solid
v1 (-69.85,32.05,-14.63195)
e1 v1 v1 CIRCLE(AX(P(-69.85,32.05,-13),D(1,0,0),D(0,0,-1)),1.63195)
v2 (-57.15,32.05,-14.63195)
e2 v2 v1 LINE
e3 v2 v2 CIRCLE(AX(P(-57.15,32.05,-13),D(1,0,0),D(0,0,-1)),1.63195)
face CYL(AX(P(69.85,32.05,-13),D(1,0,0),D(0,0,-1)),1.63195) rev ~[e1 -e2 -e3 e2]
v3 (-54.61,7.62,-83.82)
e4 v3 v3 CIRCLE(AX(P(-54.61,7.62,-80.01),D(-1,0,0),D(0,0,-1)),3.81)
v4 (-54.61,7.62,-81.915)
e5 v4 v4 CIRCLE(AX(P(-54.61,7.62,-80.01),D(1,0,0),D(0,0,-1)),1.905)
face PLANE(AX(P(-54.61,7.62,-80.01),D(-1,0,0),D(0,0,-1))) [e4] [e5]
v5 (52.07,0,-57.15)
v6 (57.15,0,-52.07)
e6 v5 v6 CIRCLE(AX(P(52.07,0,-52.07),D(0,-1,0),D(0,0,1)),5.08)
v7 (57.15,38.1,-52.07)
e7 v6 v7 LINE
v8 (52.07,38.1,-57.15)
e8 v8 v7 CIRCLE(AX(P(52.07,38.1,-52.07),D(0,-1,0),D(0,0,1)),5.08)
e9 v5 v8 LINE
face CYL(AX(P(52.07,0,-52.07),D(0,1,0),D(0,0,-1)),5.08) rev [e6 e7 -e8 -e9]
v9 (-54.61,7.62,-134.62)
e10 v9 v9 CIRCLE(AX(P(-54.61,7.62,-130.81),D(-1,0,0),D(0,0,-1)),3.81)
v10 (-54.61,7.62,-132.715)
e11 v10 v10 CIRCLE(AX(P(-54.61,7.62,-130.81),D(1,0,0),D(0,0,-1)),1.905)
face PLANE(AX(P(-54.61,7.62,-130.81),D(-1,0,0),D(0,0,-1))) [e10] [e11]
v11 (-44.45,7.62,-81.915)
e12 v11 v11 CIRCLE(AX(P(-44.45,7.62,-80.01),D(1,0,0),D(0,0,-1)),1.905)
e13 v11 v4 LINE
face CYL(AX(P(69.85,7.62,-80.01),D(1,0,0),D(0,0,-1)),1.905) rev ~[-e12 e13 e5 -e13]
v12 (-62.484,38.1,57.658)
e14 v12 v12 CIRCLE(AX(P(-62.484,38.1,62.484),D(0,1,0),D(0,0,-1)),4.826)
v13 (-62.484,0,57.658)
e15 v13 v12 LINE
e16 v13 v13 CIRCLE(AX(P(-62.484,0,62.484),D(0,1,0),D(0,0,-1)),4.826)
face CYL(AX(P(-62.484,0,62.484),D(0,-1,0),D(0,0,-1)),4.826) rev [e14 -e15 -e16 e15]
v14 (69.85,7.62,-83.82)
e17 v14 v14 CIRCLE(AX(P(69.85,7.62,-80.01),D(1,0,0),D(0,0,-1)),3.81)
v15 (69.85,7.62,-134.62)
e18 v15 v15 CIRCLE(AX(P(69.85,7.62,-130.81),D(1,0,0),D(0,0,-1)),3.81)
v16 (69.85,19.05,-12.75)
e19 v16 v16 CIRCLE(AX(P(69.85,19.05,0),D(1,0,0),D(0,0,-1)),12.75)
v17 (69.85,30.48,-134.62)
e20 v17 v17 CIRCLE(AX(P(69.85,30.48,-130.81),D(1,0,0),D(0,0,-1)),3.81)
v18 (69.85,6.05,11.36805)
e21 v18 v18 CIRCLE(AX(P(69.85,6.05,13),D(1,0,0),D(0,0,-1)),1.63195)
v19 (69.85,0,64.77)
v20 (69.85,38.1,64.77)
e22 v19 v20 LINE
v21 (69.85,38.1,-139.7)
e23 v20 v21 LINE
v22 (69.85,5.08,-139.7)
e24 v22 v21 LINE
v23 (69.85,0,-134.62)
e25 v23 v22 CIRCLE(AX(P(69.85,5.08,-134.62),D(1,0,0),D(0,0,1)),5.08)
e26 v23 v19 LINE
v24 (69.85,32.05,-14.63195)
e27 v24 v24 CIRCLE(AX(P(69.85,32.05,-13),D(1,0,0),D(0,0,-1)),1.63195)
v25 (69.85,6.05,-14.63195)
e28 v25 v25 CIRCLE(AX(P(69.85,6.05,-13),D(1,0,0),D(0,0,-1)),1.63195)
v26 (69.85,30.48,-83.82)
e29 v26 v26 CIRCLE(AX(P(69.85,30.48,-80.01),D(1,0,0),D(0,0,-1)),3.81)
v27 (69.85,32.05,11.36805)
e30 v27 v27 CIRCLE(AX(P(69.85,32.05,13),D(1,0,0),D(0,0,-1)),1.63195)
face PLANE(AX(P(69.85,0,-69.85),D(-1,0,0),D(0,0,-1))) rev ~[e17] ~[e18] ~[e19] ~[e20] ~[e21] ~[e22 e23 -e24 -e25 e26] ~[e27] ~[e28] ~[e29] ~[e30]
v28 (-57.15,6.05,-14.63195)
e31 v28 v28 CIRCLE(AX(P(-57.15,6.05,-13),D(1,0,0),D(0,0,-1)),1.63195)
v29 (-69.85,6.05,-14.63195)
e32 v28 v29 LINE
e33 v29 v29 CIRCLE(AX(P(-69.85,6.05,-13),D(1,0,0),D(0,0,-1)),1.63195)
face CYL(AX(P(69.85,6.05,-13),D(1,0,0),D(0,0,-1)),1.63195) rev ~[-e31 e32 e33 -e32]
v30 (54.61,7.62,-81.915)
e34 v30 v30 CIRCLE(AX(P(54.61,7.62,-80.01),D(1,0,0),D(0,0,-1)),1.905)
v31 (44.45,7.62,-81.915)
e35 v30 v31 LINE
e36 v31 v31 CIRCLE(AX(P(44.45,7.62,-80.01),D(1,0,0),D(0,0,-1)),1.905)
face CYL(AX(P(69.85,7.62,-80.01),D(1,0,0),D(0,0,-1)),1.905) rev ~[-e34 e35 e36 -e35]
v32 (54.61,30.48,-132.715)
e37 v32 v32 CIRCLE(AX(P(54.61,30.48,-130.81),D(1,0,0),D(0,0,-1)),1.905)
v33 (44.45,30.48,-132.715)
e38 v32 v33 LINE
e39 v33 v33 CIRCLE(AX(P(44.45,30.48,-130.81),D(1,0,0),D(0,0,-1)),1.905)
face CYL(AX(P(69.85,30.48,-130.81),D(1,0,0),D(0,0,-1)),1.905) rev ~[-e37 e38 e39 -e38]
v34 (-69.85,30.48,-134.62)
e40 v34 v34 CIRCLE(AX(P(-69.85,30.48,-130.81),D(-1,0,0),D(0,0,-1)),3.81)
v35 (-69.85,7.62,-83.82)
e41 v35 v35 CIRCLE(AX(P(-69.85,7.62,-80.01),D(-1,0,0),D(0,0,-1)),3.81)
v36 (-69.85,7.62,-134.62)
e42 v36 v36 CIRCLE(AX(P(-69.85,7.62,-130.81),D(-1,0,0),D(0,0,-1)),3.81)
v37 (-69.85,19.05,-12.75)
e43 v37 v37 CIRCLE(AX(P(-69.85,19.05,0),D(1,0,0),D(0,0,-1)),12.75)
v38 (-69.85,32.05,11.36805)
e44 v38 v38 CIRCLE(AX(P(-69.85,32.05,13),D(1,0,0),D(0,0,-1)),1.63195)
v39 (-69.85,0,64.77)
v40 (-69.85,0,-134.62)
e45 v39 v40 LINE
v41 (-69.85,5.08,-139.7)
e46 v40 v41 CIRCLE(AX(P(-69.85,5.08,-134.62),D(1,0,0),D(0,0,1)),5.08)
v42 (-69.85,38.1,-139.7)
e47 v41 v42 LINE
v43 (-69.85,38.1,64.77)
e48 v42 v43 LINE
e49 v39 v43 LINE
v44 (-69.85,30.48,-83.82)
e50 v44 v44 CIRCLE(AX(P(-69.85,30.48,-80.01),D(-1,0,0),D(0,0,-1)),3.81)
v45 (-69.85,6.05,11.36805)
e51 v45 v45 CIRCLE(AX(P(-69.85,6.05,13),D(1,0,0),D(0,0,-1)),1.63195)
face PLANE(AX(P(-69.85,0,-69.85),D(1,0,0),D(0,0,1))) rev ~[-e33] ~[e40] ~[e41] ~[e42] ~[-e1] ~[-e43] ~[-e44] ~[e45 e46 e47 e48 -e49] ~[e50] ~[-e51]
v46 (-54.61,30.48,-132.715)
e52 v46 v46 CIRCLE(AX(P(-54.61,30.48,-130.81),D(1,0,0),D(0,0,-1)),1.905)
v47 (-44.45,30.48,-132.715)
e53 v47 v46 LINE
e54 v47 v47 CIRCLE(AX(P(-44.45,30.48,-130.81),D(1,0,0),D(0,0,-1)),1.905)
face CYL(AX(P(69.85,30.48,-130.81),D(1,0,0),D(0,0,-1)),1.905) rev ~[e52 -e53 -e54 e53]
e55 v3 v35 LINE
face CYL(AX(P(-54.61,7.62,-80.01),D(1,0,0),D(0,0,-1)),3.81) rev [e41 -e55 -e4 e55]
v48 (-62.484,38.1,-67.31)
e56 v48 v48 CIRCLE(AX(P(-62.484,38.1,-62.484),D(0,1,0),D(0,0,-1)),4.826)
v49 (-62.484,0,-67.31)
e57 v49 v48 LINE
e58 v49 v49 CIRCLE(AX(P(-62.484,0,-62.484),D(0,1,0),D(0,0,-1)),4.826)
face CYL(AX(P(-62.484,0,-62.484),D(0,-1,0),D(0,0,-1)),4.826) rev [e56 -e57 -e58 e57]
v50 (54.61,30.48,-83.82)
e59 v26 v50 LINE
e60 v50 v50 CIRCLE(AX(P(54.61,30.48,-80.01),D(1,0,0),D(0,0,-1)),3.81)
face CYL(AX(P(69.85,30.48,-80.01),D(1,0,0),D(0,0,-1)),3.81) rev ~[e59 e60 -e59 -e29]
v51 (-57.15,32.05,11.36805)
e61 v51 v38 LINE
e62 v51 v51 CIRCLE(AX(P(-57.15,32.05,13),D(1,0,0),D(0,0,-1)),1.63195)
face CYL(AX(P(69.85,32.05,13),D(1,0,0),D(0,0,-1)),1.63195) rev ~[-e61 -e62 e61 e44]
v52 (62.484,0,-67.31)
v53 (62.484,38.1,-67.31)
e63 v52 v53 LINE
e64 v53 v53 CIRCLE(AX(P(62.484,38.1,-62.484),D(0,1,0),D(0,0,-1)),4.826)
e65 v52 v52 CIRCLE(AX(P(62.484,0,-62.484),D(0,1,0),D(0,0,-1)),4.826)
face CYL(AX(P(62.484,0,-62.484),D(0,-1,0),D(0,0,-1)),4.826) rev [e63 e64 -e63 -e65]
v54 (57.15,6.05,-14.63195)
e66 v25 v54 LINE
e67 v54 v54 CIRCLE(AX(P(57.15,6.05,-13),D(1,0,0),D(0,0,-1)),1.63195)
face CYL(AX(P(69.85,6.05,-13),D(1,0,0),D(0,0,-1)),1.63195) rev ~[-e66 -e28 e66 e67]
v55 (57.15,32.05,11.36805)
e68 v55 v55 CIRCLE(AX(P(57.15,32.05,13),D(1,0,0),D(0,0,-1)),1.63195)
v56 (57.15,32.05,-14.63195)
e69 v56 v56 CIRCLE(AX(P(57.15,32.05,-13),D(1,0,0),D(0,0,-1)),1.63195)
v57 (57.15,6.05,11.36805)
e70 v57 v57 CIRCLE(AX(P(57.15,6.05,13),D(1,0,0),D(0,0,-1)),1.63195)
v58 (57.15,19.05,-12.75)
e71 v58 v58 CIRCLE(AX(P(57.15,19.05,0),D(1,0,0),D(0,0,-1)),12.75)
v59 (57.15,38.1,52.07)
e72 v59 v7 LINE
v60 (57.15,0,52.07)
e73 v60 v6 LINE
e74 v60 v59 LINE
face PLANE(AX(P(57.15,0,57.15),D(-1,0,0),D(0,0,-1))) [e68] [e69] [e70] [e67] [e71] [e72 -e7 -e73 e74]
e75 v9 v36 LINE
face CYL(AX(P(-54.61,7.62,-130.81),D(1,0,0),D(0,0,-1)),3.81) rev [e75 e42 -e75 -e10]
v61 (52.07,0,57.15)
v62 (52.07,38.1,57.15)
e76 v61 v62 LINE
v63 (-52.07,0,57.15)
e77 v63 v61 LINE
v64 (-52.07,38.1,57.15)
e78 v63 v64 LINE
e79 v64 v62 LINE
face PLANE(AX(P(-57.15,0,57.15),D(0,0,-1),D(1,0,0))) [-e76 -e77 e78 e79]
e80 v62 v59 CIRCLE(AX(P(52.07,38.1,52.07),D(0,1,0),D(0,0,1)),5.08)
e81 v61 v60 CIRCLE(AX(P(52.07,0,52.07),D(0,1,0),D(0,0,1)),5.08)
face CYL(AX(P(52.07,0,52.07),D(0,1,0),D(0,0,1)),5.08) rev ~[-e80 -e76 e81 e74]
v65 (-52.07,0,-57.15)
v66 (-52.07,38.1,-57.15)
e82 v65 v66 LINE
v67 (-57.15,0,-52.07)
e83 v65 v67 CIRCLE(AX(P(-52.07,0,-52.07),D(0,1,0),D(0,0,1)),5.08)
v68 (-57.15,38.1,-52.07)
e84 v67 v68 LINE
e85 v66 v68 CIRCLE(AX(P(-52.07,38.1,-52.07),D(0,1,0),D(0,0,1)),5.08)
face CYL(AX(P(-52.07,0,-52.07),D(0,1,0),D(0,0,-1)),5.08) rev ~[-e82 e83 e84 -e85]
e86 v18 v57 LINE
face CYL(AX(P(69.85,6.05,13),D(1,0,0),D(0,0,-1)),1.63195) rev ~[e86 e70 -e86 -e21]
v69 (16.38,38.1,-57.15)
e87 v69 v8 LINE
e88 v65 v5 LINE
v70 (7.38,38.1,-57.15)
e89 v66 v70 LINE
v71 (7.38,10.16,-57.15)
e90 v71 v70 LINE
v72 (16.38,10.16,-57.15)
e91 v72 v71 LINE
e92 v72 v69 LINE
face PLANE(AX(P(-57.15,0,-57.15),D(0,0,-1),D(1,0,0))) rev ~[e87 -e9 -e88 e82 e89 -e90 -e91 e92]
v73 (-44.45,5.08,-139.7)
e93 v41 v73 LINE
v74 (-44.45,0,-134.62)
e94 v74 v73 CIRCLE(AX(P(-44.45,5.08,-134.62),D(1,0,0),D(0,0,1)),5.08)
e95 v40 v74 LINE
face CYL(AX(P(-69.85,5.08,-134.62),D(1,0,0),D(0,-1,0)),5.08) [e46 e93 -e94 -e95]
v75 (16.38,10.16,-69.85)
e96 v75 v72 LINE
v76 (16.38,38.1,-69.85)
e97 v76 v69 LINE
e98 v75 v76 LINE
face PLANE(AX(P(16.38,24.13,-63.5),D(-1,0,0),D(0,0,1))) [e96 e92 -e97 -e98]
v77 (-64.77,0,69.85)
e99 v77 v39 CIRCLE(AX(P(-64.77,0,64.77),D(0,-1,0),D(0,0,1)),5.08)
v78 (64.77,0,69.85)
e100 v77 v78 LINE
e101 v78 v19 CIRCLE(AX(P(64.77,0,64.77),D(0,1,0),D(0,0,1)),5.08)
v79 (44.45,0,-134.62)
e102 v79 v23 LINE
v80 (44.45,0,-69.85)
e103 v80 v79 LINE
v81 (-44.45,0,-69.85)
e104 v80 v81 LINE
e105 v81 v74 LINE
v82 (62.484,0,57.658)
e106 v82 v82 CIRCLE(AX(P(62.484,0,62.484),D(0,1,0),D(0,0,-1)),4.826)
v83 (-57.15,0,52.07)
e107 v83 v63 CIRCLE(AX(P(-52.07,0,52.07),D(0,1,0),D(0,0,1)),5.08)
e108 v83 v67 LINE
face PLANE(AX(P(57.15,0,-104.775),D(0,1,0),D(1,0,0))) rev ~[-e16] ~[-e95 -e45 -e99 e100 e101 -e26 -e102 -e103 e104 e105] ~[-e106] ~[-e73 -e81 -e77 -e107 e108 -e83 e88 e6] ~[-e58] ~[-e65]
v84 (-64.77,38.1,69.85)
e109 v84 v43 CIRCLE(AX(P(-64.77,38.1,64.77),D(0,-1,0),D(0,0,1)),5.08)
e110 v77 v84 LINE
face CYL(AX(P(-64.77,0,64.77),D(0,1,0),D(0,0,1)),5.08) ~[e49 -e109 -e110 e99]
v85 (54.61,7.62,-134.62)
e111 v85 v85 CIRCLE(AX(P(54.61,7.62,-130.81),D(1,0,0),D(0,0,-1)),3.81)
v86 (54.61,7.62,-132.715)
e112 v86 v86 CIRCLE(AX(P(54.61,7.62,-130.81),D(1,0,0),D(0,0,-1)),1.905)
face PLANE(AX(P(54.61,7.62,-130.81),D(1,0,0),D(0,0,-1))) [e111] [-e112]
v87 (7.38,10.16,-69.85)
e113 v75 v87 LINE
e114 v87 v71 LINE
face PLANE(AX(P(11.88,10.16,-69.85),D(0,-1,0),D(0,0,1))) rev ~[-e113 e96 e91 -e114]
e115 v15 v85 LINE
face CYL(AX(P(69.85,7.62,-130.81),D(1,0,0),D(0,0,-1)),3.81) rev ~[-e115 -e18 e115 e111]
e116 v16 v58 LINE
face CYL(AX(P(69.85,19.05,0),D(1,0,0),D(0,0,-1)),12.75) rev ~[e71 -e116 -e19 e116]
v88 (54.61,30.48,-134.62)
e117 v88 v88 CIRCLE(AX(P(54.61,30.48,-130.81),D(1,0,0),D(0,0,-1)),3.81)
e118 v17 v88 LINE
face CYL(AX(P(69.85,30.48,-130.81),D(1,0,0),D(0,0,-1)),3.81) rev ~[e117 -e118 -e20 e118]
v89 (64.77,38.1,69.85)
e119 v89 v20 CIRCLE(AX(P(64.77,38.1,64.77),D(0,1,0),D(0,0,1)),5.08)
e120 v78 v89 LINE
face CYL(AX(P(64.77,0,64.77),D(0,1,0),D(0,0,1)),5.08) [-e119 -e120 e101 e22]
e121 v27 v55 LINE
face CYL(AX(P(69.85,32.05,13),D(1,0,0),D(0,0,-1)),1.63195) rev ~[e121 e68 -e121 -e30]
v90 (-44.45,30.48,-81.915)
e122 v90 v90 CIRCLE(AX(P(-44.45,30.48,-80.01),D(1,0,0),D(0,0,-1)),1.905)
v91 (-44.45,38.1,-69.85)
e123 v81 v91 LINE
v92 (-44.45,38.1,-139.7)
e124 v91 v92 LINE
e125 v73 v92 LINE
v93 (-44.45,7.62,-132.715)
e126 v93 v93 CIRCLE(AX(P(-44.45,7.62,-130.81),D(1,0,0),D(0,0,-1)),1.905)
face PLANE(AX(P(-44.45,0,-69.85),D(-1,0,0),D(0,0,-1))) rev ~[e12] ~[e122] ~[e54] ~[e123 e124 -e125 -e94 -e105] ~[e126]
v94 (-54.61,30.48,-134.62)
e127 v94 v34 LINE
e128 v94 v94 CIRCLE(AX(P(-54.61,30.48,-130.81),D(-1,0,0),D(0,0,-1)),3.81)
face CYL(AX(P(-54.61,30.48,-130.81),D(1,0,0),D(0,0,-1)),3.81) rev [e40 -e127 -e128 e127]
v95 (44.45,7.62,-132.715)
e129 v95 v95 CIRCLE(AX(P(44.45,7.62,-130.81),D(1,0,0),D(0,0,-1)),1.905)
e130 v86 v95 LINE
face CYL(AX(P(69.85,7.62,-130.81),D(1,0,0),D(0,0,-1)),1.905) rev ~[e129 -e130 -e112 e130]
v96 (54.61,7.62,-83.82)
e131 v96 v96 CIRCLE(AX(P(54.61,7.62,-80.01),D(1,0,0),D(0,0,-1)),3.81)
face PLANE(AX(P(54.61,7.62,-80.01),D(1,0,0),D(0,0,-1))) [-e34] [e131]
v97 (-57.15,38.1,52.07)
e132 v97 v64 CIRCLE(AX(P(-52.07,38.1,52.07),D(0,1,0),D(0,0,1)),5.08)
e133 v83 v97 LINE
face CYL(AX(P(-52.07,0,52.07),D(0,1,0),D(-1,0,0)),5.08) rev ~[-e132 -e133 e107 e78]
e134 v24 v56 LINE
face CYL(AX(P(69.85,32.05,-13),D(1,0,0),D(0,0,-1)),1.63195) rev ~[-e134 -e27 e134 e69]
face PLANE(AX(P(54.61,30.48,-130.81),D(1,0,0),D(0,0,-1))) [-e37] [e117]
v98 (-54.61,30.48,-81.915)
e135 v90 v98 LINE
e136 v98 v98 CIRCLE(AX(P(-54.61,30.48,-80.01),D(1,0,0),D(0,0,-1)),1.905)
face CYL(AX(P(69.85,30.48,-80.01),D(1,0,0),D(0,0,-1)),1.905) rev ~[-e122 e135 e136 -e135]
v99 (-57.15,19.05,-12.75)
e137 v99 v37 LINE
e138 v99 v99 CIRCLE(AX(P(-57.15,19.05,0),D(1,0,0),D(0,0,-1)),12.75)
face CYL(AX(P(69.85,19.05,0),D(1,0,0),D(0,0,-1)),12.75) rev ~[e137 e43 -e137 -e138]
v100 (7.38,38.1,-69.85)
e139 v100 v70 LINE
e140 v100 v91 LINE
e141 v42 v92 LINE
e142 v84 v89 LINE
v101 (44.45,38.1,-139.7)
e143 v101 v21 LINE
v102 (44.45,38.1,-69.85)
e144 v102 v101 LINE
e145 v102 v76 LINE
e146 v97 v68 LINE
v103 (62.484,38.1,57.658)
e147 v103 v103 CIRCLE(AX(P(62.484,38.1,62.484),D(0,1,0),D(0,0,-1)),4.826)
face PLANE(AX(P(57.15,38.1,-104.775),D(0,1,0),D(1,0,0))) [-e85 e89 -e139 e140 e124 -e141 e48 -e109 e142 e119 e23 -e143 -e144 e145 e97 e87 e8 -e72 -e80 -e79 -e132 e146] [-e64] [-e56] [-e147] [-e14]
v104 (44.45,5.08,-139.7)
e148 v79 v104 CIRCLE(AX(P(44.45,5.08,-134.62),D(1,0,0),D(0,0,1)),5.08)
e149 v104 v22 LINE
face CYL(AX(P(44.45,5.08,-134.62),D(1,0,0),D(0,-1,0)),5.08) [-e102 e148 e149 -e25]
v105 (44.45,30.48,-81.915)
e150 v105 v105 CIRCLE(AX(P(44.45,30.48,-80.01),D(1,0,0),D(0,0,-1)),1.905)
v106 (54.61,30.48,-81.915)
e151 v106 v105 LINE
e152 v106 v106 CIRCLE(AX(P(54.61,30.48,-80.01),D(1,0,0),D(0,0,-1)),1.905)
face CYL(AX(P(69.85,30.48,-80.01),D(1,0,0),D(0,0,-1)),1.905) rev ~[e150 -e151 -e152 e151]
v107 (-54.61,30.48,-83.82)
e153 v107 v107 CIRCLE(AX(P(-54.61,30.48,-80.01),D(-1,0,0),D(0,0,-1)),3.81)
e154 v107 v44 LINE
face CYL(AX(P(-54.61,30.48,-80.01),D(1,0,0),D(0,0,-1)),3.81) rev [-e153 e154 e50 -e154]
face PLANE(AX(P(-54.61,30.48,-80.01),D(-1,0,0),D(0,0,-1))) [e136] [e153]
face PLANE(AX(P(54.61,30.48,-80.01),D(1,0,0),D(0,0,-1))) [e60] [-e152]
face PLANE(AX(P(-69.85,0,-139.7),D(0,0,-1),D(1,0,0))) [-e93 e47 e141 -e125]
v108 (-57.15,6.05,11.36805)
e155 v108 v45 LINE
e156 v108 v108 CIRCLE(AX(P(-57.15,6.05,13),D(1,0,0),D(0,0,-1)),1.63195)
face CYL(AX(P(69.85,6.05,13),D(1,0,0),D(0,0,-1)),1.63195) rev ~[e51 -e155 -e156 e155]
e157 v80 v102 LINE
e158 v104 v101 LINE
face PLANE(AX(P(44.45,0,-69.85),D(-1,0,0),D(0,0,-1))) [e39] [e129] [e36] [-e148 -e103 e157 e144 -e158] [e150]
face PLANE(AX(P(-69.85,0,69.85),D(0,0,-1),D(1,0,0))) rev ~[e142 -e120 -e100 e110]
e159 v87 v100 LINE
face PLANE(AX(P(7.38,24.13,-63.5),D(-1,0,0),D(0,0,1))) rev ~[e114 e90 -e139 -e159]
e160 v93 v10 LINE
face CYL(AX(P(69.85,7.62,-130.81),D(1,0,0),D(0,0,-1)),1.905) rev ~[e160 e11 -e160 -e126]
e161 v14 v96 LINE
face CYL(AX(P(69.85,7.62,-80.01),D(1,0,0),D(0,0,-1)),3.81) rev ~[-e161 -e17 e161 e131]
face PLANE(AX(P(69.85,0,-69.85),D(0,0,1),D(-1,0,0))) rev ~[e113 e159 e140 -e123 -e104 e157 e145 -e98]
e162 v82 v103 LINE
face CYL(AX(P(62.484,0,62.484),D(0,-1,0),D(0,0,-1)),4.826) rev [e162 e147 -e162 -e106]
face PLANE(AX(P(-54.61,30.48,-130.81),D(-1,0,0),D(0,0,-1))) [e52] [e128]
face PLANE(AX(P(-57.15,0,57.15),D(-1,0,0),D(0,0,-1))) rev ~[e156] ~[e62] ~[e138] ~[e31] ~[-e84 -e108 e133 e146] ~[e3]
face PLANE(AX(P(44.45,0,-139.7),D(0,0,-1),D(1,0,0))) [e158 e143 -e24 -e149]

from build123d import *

# Parameters (mm, degrees)
SKETCH1_W           = 25.4
SKETCH1_H           = 69.85
SKETCH1_R           = 4.826
SKETCH1_W_2         = 114.3
SKETCH1_H_2         = 114.3
BOSS_EXTRUDE2_DEPTH = 38.1
CUT_EXTRUDE1_REACH  = 203.206
SKETCH5_R           = 1.63195
SKETCH5_R_2         = 12.75
SKETCH7_W           = 12.7
SKETCH7_H           = 27.94
CUT_EXTRUDE2_DEPTH  = 4.5
CUT_EXTRUDE3_REACH  = 203.206
SKETCH10_R          = 1.905
SKETCH10_3_R        = 3.81
SKETCH10_3_R_2      = 1.905
CUT_EXTRUDE4_DEPTH  = 15.24
CUT_EXTRUDE5_START  = -15.24
SKETCH11_R          = 3.81
CUT_EXTRUDE5_DEPTH  = 15.24
FILLET10_R          = 5.08
FILLET11_R          = 5.08
FILLET12_R          = 5.08
FILLET13_R          = 5.08
FILLET14_R          = 5.08
FILLET15_R          = 5.08
FILLET16_R          = 5.08


with BuildPart() as part:
    # Sketch1 → Boss-Extrude2 (new body)
    # profile 1 of 3: a face of its own
    with BuildSketch(Plane(origin=(0, 0, 0), x_dir=(1, 0, 0), z_dir=(0, 1, 0))):
        with Locations((-57.15, 104.775)):
            Rectangle(SKETCH1_W, SKETCH1_H)
    # profile 2 of 3: a face of its own
    with BuildSketch(Plane(origin=(0, 0, 0), x_dir=(1, 0, 0), z_dir=(0, 1, 0))):
        Polygon((-44.45, 69.85), (-69.85, 69.85), (-69.85, -69.85), (69.85, -69.85), (69.85, 69.85), (44.45, 69.85), (-31.75, 69.85), align=None)
        with Locations(Location((-62.484, -62.484, 0), (0, 0, 90))):
            Circle(SKETCH1_R, mode=Mode.SUBTRACT)
        Rectangle(SKETCH1_W_2, SKETCH1_H_2, mode=Mode.SUBTRACT)
        with Locations(Location((62.484, -62.484, 0), (0, 0, 90))):
            Circle(SKETCH1_R, mode=Mode.SUBTRACT)
        with Locations(Location((-62.484, 62.484, 0), (0, 0, 90))):
            Circle(SKETCH1_R, mode=Mode.SUBTRACT)
        with Locations(Location((62.484, 62.484, 0), (0, 0, 90))):
            Circle(SKETCH1_R, mode=Mode.SUBTRACT)
    # profile 3 of 3: a face of its own
    with BuildSketch(Plane(origin=(0, 0, 0), x_dir=(1, 0, 0), z_dir=(0, 1, 0))):
        with Locations((57.15, 104.775)):
            Rectangle(SKETCH1_W, SKETCH1_H)
    extrude(amount=BOSS_EXTRUDE2_DEPTH)

    # Cut-Extrude1: up to this face of the body (flat: up to its plane)
    cut_extrude1_end = Plane(part.part.faces().sort_by_distance((-69.85, 19.05, -34.925))[0])
    # Sketch5 → Cut-Extrude1 (cut, up to the picked face)
    with BuildSketch(Plane(origin=(69.85, 0, 0), x_dir=(0, 0, -1), z_dir=(1, 0, 0)), mode=Mode.PRIVATE) as cut_extrude1_sk1:
        with Locations((-13, 32.05)):
            Circle(SKETCH5_R)
    cut_extrude1_tool1 = split(extrude(cut_extrude1_sk1.sketch, amount=-CUT_EXTRUDE1_REACH, mode=Mode.PRIVATE), bisect_by=cut_extrude1_end, keep=Keep.BOTH, mode=Mode.PRIVATE)
    # Sketch5 → Cut-Extrude1 (cut, up to the picked face)
    with BuildSketch(Plane(origin=(69.85, 0, 0), x_dir=(0, 0, -1), z_dir=(1, 0, 0)), mode=Mode.PRIVATE) as cut_extrude1_sk2:
        with Locations((13, 6.05)):
            Circle(SKETCH5_R)
    cut_extrude1_tool2 = split(extrude(cut_extrude1_sk2.sketch, amount=-CUT_EXTRUDE1_REACH, mode=Mode.PRIVATE), bisect_by=cut_extrude1_end, keep=Keep.BOTH, mode=Mode.PRIVATE)
    # Sketch5 → Cut-Extrude1 (cut, up to the picked face)
    with BuildSketch(Plane(origin=(69.85, 0, 0), x_dir=(0, 0, -1), z_dir=(1, 0, 0)), mode=Mode.PRIVATE) as cut_extrude1_sk3:
        with Locations((-13, 6.05)):
            Circle(SKETCH5_R)
    cut_extrude1_tool3 = split(extrude(cut_extrude1_sk3.sketch, amount=-CUT_EXTRUDE1_REACH, mode=Mode.PRIVATE), bisect_by=cut_extrude1_end, keep=Keep.BOTH, mode=Mode.PRIVATE)
    # Sketch5 → Cut-Extrude1 (cut, up to the picked face)
    with BuildSketch(Plane(origin=(69.85, 0, 0), x_dir=(0, 0, -1), z_dir=(1, 0, 0)), mode=Mode.PRIVATE) as cut_extrude1_sk4:
        with Locations((13, 32.05)):
            Circle(SKETCH5_R)
    cut_extrude1_tool4 = split(extrude(cut_extrude1_sk4.sketch, amount=-CUT_EXTRUDE1_REACH, mode=Mode.PRIVATE), bisect_by=cut_extrude1_end, keep=Keep.BOTH, mode=Mode.PRIVATE)
    # Sketch5 → Cut-Extrude1 (cut, up to the picked face)
    with BuildSketch(Plane(origin=(69.85, 0, 0), x_dir=(0, 0, -1), z_dir=(1, 0, 0)), mode=Mode.PRIVATE) as cut_extrude1_sk5:
        with Locations((0, 19.05)):
            Circle(SKETCH5_R_2)
    cut_extrude1_tool5 = split(extrude(cut_extrude1_sk5.sketch, amount=-CUT_EXTRUDE1_REACH, mode=Mode.PRIVATE), bisect_by=cut_extrude1_end, keep=Keep.BOTH, mode=Mode.PRIVATE)
    add(cut_extrude1_tool1.solids().sort_by(Axis((69.85, 32.05, 13), (-1, 0, 0)))[0], mode=Mode.SUBTRACT)
    add(cut_extrude1_tool2.solids().sort_by(Axis((69.85, 6.05, -13), (-1, 0, 0)))[0], mode=Mode.SUBTRACT)
    add(cut_extrude1_tool3.solids().sort_by(Axis((69.85, 6.05, 13), (-1, 0, 0)))[0], mode=Mode.SUBTRACT)
    add(cut_extrude1_tool4.solids().sort_by(Axis((69.85, 32.05, -13), (-1, 0, 0)))[0], mode=Mode.SUBTRACT)
    add(cut_extrude1_tool5.solids().sort_by(Axis((69.85, 19.05, 0), (-1, 0, 0)))[0], mode=Mode.SUBTRACT)

    # Sketch7 → Cut-Extrude2 (cut, symmetric)
    with BuildSketch(Plane.ZY.offset(-11.879999989)):
        with Locations((-63.5, 24.13)):
            Rectangle(SKETCH7_W, SKETCH7_H)
    extrude(amount=CUT_EXTRUDE2_DEPTH, both=True, mode=Mode.SUBTRACT)

    # Cut-Extrude3: up to this face of the body (flat: up to its plane)
    cut_extrude3_end = Plane(part.part.faces().sort_by_distance((-69.85, 19.05, -37.47957558))[0])
    # Sketch10 → Cut-Extrude3 (cut, up to the picked face)
    with BuildSketch(Plane(origin=(69.85, 0, 0), x_dir=(0, 0, -1), z_dir=(1, 0, 0)), mode=Mode.PRIVATE) as cut_extrude3_sk1:
        with Locations((80.01, 30.48)):
            Circle(SKETCH10_R)
    cut_extrude3_tool1 = split(extrude(cut_extrude3_sk1.sketch, amount=-CUT_EXTRUDE3_REACH, mode=Mode.PRIVATE), bisect_by=cut_extrude3_end, keep=Keep.BOTH, mode=Mode.PRIVATE)
    # Sketch10 → Cut-Extrude3 (cut, up to the picked face)
    with BuildSketch(Plane(origin=(69.85, 0, 0), x_dir=(0, 0, -1), z_dir=(1, 0, 0)), mode=Mode.PRIVATE) as cut_extrude3_sk2:
        with Locations((80.01, 7.62)):
            Circle(SKETCH10_R)
    cut_extrude3_tool2 = split(extrude(cut_extrude3_sk2.sketch, amount=-CUT_EXTRUDE3_REACH, mode=Mode.PRIVATE), bisect_by=cut_extrude3_end, keep=Keep.BOTH, mode=Mode.PRIVATE)
    # Sketch10 → Cut-Extrude3 (cut, up to the picked face)
    with BuildSketch(Plane(origin=(69.85, 0, 0), x_dir=(0, 0, -1), z_dir=(1, 0, 0)), mode=Mode.PRIVATE) as cut_extrude3_sk3:
        with Locations((130.81, 30.48)):
            Circle(SKETCH10_R)
    cut_extrude3_tool3 = split(extrude(cut_extrude3_sk3.sketch, amount=-CUT_EXTRUDE3_REACH, mode=Mode.PRIVATE), bisect_by=cut_extrude3_end, keep=Keep.BOTH, mode=Mode.PRIVATE)
    # Sketch10 → Cut-Extrude3 (cut, up to the picked face)
    with BuildSketch(Plane(origin=(69.85, 0, 0), x_dir=(0, 0, -1), z_dir=(1, 0, 0)), mode=Mode.PRIVATE) as cut_extrude3_sk4:
        with Locations((130.81, 7.62)):
            Circle(SKETCH10_R)
    cut_extrude3_tool4 = split(extrude(cut_extrude3_sk4.sketch, amount=-CUT_EXTRUDE3_REACH, mode=Mode.PRIVATE), bisect_by=cut_extrude3_end, keep=Keep.BOTH, mode=Mode.PRIVATE)
    add(cut_extrude3_tool1.solids().sort_by(Axis((69.85, 30.48, -80.01), (-1, 0, 0)))[0], mode=Mode.SUBTRACT)
    add(cut_extrude3_tool2.solids().sort_by(Axis((69.85, 7.62, -80.01), (-1, 0, 0)))[0], mode=Mode.SUBTRACT)
    add(cut_extrude3_tool3.solids().sort_by(Axis((69.85, 30.48, -130.81), (-1, 0, 0)))[0], mode=Mode.SUBTRACT)
    add(cut_extrude3_tool4.solids().sort_by(Axis((69.85, 7.62, -130.81), (-1, 0, 0)))[0], mode=Mode.SUBTRACT)

    # Sketch10<3> → Cut-Extrude4 (cut)
    # profile 1 of 4: a face of its own
    with BuildSketch(Plane(origin=(69.85, 0, 0), x_dir=(0, 0, -1), z_dir=(1, 0, 0))):
        with Locations((80.01, 30.48)):
            Circle(SKETCH10_3_R)
        with Locations((80.01, 30.48)):
            Circle(SKETCH10_3_R_2, mode=Mode.SUBTRACT)
    # profile 2 of 4: a face of its own
    with BuildSketch(Plane(origin=(69.85, 0, 0), x_dir=(0, 0, -1), z_dir=(1, 0, 0))):
        with Locations((130.81, 7.62)):
            Circle(SKETCH10_3_R)
        with Locations((130.81, 7.62)):
            Circle(SKETCH10_3_R_2, mode=Mode.SUBTRACT)
    # profile 3 of 4: a face of its own
    with BuildSketch(Plane(origin=(69.85, 0, 0), x_dir=(0, 0, -1), z_dir=(1, 0, 0))):
        with Locations((130.81, 30.48)):
            Circle(SKETCH10_3_R)
        with Locations((130.81, 30.48)):
            Circle(SKETCH10_3_R_2, mode=Mode.SUBTRACT)
    # profile 4 of 4: a face of its own
    with BuildSketch(Plane(origin=(69.85, 0, 0), x_dir=(0, 0, -1), z_dir=(1, 0, 0))):
        with Locations((80.01, 7.62)):
            Circle(SKETCH10_3_R)
        with Locations((80.01, 7.62)):
            Circle(SKETCH10_3_R_2, mode=Mode.SUBTRACT)
    extrude(amount=-CUT_EXTRUDE4_DEPTH, mode=Mode.SUBTRACT)

    # Sketch11 → Cut-Extrude5 (cut)
    with BuildSketch(Plane.ZY.offset(69.85).offset(CUT_EXTRUDE5_START)):
        with Locations(Location((-130.81, 30.48, 0), (0, 0, 180))):
            Circle(SKETCH11_R)
        with Locations(Location((-80.01, 7.62, 0), (0, 0, 180))):
            Circle(SKETCH11_R)
        with Locations(Location((-80.01, 30.48, 0), (0, 0, 180))):
            Circle(SKETCH11_R)
        with Locations(Location((-130.81, 7.62, 0), (0, 0, 180))):
            Circle(SKETCH11_R)
    extrude(amount=CUT_EXTRUDE5_DEPTH, mode=Mode.SUBTRACT)

    # Fillet10
    fillet10_edges = [part.edges().sort_by_distance(p)[0] for p in [
        (57.15, 19.05, -57.15),
    ]]
    fillet(fillet10_edges, radius=FILLET10_R)

    # Fillet11
    fillet11_edges = [part.edges().sort_by_distance(p)[0] for p in [
        (-57.15, 19.05, -57.15),
    ]]
    fillet(fillet11_edges, radius=FILLET11_R)

    # Fillet12
    fillet12_edges = [part.edges().sort_by_distance(p)[0] for p in [
        (-57.15, 19.05, 57.15),
    ]]
    fillet(fillet12_edges, radius=FILLET12_R)

    # Fillet13
    fillet13_edges = [part.edges().sort_by_distance(p)[0] for p in [
        (57.15, 19.05, 57.15),
    ]]
    fillet(fillet13_edges, radius=FILLET13_R)

    # Fillet14
    fillet14_edges = [part.edges().sort_by_distance(p)[0] for p in [
        (-57.15, 0, -139.7),
        (57.15, 0, -139.7),
    ]]
    fillet(fillet14_edges, radius=FILLET14_R)

    # Fillet15
    fillet15_edges = [part.edges().sort_by_distance(p)[0] for p in [
        (-69.85, 19.05, 69.85),
    ]]
    fillet(fillet15_edges, radius=FILLET15_R)

    # Fillet16
    fillet16_edges = [part.edges().sort_by_distance(p)[0] for p in [
        (69.85, 19.05, 69.85),
    ]]
    fillet(fillet16_edges, radius=FILLET16_R)


solid = part.part
